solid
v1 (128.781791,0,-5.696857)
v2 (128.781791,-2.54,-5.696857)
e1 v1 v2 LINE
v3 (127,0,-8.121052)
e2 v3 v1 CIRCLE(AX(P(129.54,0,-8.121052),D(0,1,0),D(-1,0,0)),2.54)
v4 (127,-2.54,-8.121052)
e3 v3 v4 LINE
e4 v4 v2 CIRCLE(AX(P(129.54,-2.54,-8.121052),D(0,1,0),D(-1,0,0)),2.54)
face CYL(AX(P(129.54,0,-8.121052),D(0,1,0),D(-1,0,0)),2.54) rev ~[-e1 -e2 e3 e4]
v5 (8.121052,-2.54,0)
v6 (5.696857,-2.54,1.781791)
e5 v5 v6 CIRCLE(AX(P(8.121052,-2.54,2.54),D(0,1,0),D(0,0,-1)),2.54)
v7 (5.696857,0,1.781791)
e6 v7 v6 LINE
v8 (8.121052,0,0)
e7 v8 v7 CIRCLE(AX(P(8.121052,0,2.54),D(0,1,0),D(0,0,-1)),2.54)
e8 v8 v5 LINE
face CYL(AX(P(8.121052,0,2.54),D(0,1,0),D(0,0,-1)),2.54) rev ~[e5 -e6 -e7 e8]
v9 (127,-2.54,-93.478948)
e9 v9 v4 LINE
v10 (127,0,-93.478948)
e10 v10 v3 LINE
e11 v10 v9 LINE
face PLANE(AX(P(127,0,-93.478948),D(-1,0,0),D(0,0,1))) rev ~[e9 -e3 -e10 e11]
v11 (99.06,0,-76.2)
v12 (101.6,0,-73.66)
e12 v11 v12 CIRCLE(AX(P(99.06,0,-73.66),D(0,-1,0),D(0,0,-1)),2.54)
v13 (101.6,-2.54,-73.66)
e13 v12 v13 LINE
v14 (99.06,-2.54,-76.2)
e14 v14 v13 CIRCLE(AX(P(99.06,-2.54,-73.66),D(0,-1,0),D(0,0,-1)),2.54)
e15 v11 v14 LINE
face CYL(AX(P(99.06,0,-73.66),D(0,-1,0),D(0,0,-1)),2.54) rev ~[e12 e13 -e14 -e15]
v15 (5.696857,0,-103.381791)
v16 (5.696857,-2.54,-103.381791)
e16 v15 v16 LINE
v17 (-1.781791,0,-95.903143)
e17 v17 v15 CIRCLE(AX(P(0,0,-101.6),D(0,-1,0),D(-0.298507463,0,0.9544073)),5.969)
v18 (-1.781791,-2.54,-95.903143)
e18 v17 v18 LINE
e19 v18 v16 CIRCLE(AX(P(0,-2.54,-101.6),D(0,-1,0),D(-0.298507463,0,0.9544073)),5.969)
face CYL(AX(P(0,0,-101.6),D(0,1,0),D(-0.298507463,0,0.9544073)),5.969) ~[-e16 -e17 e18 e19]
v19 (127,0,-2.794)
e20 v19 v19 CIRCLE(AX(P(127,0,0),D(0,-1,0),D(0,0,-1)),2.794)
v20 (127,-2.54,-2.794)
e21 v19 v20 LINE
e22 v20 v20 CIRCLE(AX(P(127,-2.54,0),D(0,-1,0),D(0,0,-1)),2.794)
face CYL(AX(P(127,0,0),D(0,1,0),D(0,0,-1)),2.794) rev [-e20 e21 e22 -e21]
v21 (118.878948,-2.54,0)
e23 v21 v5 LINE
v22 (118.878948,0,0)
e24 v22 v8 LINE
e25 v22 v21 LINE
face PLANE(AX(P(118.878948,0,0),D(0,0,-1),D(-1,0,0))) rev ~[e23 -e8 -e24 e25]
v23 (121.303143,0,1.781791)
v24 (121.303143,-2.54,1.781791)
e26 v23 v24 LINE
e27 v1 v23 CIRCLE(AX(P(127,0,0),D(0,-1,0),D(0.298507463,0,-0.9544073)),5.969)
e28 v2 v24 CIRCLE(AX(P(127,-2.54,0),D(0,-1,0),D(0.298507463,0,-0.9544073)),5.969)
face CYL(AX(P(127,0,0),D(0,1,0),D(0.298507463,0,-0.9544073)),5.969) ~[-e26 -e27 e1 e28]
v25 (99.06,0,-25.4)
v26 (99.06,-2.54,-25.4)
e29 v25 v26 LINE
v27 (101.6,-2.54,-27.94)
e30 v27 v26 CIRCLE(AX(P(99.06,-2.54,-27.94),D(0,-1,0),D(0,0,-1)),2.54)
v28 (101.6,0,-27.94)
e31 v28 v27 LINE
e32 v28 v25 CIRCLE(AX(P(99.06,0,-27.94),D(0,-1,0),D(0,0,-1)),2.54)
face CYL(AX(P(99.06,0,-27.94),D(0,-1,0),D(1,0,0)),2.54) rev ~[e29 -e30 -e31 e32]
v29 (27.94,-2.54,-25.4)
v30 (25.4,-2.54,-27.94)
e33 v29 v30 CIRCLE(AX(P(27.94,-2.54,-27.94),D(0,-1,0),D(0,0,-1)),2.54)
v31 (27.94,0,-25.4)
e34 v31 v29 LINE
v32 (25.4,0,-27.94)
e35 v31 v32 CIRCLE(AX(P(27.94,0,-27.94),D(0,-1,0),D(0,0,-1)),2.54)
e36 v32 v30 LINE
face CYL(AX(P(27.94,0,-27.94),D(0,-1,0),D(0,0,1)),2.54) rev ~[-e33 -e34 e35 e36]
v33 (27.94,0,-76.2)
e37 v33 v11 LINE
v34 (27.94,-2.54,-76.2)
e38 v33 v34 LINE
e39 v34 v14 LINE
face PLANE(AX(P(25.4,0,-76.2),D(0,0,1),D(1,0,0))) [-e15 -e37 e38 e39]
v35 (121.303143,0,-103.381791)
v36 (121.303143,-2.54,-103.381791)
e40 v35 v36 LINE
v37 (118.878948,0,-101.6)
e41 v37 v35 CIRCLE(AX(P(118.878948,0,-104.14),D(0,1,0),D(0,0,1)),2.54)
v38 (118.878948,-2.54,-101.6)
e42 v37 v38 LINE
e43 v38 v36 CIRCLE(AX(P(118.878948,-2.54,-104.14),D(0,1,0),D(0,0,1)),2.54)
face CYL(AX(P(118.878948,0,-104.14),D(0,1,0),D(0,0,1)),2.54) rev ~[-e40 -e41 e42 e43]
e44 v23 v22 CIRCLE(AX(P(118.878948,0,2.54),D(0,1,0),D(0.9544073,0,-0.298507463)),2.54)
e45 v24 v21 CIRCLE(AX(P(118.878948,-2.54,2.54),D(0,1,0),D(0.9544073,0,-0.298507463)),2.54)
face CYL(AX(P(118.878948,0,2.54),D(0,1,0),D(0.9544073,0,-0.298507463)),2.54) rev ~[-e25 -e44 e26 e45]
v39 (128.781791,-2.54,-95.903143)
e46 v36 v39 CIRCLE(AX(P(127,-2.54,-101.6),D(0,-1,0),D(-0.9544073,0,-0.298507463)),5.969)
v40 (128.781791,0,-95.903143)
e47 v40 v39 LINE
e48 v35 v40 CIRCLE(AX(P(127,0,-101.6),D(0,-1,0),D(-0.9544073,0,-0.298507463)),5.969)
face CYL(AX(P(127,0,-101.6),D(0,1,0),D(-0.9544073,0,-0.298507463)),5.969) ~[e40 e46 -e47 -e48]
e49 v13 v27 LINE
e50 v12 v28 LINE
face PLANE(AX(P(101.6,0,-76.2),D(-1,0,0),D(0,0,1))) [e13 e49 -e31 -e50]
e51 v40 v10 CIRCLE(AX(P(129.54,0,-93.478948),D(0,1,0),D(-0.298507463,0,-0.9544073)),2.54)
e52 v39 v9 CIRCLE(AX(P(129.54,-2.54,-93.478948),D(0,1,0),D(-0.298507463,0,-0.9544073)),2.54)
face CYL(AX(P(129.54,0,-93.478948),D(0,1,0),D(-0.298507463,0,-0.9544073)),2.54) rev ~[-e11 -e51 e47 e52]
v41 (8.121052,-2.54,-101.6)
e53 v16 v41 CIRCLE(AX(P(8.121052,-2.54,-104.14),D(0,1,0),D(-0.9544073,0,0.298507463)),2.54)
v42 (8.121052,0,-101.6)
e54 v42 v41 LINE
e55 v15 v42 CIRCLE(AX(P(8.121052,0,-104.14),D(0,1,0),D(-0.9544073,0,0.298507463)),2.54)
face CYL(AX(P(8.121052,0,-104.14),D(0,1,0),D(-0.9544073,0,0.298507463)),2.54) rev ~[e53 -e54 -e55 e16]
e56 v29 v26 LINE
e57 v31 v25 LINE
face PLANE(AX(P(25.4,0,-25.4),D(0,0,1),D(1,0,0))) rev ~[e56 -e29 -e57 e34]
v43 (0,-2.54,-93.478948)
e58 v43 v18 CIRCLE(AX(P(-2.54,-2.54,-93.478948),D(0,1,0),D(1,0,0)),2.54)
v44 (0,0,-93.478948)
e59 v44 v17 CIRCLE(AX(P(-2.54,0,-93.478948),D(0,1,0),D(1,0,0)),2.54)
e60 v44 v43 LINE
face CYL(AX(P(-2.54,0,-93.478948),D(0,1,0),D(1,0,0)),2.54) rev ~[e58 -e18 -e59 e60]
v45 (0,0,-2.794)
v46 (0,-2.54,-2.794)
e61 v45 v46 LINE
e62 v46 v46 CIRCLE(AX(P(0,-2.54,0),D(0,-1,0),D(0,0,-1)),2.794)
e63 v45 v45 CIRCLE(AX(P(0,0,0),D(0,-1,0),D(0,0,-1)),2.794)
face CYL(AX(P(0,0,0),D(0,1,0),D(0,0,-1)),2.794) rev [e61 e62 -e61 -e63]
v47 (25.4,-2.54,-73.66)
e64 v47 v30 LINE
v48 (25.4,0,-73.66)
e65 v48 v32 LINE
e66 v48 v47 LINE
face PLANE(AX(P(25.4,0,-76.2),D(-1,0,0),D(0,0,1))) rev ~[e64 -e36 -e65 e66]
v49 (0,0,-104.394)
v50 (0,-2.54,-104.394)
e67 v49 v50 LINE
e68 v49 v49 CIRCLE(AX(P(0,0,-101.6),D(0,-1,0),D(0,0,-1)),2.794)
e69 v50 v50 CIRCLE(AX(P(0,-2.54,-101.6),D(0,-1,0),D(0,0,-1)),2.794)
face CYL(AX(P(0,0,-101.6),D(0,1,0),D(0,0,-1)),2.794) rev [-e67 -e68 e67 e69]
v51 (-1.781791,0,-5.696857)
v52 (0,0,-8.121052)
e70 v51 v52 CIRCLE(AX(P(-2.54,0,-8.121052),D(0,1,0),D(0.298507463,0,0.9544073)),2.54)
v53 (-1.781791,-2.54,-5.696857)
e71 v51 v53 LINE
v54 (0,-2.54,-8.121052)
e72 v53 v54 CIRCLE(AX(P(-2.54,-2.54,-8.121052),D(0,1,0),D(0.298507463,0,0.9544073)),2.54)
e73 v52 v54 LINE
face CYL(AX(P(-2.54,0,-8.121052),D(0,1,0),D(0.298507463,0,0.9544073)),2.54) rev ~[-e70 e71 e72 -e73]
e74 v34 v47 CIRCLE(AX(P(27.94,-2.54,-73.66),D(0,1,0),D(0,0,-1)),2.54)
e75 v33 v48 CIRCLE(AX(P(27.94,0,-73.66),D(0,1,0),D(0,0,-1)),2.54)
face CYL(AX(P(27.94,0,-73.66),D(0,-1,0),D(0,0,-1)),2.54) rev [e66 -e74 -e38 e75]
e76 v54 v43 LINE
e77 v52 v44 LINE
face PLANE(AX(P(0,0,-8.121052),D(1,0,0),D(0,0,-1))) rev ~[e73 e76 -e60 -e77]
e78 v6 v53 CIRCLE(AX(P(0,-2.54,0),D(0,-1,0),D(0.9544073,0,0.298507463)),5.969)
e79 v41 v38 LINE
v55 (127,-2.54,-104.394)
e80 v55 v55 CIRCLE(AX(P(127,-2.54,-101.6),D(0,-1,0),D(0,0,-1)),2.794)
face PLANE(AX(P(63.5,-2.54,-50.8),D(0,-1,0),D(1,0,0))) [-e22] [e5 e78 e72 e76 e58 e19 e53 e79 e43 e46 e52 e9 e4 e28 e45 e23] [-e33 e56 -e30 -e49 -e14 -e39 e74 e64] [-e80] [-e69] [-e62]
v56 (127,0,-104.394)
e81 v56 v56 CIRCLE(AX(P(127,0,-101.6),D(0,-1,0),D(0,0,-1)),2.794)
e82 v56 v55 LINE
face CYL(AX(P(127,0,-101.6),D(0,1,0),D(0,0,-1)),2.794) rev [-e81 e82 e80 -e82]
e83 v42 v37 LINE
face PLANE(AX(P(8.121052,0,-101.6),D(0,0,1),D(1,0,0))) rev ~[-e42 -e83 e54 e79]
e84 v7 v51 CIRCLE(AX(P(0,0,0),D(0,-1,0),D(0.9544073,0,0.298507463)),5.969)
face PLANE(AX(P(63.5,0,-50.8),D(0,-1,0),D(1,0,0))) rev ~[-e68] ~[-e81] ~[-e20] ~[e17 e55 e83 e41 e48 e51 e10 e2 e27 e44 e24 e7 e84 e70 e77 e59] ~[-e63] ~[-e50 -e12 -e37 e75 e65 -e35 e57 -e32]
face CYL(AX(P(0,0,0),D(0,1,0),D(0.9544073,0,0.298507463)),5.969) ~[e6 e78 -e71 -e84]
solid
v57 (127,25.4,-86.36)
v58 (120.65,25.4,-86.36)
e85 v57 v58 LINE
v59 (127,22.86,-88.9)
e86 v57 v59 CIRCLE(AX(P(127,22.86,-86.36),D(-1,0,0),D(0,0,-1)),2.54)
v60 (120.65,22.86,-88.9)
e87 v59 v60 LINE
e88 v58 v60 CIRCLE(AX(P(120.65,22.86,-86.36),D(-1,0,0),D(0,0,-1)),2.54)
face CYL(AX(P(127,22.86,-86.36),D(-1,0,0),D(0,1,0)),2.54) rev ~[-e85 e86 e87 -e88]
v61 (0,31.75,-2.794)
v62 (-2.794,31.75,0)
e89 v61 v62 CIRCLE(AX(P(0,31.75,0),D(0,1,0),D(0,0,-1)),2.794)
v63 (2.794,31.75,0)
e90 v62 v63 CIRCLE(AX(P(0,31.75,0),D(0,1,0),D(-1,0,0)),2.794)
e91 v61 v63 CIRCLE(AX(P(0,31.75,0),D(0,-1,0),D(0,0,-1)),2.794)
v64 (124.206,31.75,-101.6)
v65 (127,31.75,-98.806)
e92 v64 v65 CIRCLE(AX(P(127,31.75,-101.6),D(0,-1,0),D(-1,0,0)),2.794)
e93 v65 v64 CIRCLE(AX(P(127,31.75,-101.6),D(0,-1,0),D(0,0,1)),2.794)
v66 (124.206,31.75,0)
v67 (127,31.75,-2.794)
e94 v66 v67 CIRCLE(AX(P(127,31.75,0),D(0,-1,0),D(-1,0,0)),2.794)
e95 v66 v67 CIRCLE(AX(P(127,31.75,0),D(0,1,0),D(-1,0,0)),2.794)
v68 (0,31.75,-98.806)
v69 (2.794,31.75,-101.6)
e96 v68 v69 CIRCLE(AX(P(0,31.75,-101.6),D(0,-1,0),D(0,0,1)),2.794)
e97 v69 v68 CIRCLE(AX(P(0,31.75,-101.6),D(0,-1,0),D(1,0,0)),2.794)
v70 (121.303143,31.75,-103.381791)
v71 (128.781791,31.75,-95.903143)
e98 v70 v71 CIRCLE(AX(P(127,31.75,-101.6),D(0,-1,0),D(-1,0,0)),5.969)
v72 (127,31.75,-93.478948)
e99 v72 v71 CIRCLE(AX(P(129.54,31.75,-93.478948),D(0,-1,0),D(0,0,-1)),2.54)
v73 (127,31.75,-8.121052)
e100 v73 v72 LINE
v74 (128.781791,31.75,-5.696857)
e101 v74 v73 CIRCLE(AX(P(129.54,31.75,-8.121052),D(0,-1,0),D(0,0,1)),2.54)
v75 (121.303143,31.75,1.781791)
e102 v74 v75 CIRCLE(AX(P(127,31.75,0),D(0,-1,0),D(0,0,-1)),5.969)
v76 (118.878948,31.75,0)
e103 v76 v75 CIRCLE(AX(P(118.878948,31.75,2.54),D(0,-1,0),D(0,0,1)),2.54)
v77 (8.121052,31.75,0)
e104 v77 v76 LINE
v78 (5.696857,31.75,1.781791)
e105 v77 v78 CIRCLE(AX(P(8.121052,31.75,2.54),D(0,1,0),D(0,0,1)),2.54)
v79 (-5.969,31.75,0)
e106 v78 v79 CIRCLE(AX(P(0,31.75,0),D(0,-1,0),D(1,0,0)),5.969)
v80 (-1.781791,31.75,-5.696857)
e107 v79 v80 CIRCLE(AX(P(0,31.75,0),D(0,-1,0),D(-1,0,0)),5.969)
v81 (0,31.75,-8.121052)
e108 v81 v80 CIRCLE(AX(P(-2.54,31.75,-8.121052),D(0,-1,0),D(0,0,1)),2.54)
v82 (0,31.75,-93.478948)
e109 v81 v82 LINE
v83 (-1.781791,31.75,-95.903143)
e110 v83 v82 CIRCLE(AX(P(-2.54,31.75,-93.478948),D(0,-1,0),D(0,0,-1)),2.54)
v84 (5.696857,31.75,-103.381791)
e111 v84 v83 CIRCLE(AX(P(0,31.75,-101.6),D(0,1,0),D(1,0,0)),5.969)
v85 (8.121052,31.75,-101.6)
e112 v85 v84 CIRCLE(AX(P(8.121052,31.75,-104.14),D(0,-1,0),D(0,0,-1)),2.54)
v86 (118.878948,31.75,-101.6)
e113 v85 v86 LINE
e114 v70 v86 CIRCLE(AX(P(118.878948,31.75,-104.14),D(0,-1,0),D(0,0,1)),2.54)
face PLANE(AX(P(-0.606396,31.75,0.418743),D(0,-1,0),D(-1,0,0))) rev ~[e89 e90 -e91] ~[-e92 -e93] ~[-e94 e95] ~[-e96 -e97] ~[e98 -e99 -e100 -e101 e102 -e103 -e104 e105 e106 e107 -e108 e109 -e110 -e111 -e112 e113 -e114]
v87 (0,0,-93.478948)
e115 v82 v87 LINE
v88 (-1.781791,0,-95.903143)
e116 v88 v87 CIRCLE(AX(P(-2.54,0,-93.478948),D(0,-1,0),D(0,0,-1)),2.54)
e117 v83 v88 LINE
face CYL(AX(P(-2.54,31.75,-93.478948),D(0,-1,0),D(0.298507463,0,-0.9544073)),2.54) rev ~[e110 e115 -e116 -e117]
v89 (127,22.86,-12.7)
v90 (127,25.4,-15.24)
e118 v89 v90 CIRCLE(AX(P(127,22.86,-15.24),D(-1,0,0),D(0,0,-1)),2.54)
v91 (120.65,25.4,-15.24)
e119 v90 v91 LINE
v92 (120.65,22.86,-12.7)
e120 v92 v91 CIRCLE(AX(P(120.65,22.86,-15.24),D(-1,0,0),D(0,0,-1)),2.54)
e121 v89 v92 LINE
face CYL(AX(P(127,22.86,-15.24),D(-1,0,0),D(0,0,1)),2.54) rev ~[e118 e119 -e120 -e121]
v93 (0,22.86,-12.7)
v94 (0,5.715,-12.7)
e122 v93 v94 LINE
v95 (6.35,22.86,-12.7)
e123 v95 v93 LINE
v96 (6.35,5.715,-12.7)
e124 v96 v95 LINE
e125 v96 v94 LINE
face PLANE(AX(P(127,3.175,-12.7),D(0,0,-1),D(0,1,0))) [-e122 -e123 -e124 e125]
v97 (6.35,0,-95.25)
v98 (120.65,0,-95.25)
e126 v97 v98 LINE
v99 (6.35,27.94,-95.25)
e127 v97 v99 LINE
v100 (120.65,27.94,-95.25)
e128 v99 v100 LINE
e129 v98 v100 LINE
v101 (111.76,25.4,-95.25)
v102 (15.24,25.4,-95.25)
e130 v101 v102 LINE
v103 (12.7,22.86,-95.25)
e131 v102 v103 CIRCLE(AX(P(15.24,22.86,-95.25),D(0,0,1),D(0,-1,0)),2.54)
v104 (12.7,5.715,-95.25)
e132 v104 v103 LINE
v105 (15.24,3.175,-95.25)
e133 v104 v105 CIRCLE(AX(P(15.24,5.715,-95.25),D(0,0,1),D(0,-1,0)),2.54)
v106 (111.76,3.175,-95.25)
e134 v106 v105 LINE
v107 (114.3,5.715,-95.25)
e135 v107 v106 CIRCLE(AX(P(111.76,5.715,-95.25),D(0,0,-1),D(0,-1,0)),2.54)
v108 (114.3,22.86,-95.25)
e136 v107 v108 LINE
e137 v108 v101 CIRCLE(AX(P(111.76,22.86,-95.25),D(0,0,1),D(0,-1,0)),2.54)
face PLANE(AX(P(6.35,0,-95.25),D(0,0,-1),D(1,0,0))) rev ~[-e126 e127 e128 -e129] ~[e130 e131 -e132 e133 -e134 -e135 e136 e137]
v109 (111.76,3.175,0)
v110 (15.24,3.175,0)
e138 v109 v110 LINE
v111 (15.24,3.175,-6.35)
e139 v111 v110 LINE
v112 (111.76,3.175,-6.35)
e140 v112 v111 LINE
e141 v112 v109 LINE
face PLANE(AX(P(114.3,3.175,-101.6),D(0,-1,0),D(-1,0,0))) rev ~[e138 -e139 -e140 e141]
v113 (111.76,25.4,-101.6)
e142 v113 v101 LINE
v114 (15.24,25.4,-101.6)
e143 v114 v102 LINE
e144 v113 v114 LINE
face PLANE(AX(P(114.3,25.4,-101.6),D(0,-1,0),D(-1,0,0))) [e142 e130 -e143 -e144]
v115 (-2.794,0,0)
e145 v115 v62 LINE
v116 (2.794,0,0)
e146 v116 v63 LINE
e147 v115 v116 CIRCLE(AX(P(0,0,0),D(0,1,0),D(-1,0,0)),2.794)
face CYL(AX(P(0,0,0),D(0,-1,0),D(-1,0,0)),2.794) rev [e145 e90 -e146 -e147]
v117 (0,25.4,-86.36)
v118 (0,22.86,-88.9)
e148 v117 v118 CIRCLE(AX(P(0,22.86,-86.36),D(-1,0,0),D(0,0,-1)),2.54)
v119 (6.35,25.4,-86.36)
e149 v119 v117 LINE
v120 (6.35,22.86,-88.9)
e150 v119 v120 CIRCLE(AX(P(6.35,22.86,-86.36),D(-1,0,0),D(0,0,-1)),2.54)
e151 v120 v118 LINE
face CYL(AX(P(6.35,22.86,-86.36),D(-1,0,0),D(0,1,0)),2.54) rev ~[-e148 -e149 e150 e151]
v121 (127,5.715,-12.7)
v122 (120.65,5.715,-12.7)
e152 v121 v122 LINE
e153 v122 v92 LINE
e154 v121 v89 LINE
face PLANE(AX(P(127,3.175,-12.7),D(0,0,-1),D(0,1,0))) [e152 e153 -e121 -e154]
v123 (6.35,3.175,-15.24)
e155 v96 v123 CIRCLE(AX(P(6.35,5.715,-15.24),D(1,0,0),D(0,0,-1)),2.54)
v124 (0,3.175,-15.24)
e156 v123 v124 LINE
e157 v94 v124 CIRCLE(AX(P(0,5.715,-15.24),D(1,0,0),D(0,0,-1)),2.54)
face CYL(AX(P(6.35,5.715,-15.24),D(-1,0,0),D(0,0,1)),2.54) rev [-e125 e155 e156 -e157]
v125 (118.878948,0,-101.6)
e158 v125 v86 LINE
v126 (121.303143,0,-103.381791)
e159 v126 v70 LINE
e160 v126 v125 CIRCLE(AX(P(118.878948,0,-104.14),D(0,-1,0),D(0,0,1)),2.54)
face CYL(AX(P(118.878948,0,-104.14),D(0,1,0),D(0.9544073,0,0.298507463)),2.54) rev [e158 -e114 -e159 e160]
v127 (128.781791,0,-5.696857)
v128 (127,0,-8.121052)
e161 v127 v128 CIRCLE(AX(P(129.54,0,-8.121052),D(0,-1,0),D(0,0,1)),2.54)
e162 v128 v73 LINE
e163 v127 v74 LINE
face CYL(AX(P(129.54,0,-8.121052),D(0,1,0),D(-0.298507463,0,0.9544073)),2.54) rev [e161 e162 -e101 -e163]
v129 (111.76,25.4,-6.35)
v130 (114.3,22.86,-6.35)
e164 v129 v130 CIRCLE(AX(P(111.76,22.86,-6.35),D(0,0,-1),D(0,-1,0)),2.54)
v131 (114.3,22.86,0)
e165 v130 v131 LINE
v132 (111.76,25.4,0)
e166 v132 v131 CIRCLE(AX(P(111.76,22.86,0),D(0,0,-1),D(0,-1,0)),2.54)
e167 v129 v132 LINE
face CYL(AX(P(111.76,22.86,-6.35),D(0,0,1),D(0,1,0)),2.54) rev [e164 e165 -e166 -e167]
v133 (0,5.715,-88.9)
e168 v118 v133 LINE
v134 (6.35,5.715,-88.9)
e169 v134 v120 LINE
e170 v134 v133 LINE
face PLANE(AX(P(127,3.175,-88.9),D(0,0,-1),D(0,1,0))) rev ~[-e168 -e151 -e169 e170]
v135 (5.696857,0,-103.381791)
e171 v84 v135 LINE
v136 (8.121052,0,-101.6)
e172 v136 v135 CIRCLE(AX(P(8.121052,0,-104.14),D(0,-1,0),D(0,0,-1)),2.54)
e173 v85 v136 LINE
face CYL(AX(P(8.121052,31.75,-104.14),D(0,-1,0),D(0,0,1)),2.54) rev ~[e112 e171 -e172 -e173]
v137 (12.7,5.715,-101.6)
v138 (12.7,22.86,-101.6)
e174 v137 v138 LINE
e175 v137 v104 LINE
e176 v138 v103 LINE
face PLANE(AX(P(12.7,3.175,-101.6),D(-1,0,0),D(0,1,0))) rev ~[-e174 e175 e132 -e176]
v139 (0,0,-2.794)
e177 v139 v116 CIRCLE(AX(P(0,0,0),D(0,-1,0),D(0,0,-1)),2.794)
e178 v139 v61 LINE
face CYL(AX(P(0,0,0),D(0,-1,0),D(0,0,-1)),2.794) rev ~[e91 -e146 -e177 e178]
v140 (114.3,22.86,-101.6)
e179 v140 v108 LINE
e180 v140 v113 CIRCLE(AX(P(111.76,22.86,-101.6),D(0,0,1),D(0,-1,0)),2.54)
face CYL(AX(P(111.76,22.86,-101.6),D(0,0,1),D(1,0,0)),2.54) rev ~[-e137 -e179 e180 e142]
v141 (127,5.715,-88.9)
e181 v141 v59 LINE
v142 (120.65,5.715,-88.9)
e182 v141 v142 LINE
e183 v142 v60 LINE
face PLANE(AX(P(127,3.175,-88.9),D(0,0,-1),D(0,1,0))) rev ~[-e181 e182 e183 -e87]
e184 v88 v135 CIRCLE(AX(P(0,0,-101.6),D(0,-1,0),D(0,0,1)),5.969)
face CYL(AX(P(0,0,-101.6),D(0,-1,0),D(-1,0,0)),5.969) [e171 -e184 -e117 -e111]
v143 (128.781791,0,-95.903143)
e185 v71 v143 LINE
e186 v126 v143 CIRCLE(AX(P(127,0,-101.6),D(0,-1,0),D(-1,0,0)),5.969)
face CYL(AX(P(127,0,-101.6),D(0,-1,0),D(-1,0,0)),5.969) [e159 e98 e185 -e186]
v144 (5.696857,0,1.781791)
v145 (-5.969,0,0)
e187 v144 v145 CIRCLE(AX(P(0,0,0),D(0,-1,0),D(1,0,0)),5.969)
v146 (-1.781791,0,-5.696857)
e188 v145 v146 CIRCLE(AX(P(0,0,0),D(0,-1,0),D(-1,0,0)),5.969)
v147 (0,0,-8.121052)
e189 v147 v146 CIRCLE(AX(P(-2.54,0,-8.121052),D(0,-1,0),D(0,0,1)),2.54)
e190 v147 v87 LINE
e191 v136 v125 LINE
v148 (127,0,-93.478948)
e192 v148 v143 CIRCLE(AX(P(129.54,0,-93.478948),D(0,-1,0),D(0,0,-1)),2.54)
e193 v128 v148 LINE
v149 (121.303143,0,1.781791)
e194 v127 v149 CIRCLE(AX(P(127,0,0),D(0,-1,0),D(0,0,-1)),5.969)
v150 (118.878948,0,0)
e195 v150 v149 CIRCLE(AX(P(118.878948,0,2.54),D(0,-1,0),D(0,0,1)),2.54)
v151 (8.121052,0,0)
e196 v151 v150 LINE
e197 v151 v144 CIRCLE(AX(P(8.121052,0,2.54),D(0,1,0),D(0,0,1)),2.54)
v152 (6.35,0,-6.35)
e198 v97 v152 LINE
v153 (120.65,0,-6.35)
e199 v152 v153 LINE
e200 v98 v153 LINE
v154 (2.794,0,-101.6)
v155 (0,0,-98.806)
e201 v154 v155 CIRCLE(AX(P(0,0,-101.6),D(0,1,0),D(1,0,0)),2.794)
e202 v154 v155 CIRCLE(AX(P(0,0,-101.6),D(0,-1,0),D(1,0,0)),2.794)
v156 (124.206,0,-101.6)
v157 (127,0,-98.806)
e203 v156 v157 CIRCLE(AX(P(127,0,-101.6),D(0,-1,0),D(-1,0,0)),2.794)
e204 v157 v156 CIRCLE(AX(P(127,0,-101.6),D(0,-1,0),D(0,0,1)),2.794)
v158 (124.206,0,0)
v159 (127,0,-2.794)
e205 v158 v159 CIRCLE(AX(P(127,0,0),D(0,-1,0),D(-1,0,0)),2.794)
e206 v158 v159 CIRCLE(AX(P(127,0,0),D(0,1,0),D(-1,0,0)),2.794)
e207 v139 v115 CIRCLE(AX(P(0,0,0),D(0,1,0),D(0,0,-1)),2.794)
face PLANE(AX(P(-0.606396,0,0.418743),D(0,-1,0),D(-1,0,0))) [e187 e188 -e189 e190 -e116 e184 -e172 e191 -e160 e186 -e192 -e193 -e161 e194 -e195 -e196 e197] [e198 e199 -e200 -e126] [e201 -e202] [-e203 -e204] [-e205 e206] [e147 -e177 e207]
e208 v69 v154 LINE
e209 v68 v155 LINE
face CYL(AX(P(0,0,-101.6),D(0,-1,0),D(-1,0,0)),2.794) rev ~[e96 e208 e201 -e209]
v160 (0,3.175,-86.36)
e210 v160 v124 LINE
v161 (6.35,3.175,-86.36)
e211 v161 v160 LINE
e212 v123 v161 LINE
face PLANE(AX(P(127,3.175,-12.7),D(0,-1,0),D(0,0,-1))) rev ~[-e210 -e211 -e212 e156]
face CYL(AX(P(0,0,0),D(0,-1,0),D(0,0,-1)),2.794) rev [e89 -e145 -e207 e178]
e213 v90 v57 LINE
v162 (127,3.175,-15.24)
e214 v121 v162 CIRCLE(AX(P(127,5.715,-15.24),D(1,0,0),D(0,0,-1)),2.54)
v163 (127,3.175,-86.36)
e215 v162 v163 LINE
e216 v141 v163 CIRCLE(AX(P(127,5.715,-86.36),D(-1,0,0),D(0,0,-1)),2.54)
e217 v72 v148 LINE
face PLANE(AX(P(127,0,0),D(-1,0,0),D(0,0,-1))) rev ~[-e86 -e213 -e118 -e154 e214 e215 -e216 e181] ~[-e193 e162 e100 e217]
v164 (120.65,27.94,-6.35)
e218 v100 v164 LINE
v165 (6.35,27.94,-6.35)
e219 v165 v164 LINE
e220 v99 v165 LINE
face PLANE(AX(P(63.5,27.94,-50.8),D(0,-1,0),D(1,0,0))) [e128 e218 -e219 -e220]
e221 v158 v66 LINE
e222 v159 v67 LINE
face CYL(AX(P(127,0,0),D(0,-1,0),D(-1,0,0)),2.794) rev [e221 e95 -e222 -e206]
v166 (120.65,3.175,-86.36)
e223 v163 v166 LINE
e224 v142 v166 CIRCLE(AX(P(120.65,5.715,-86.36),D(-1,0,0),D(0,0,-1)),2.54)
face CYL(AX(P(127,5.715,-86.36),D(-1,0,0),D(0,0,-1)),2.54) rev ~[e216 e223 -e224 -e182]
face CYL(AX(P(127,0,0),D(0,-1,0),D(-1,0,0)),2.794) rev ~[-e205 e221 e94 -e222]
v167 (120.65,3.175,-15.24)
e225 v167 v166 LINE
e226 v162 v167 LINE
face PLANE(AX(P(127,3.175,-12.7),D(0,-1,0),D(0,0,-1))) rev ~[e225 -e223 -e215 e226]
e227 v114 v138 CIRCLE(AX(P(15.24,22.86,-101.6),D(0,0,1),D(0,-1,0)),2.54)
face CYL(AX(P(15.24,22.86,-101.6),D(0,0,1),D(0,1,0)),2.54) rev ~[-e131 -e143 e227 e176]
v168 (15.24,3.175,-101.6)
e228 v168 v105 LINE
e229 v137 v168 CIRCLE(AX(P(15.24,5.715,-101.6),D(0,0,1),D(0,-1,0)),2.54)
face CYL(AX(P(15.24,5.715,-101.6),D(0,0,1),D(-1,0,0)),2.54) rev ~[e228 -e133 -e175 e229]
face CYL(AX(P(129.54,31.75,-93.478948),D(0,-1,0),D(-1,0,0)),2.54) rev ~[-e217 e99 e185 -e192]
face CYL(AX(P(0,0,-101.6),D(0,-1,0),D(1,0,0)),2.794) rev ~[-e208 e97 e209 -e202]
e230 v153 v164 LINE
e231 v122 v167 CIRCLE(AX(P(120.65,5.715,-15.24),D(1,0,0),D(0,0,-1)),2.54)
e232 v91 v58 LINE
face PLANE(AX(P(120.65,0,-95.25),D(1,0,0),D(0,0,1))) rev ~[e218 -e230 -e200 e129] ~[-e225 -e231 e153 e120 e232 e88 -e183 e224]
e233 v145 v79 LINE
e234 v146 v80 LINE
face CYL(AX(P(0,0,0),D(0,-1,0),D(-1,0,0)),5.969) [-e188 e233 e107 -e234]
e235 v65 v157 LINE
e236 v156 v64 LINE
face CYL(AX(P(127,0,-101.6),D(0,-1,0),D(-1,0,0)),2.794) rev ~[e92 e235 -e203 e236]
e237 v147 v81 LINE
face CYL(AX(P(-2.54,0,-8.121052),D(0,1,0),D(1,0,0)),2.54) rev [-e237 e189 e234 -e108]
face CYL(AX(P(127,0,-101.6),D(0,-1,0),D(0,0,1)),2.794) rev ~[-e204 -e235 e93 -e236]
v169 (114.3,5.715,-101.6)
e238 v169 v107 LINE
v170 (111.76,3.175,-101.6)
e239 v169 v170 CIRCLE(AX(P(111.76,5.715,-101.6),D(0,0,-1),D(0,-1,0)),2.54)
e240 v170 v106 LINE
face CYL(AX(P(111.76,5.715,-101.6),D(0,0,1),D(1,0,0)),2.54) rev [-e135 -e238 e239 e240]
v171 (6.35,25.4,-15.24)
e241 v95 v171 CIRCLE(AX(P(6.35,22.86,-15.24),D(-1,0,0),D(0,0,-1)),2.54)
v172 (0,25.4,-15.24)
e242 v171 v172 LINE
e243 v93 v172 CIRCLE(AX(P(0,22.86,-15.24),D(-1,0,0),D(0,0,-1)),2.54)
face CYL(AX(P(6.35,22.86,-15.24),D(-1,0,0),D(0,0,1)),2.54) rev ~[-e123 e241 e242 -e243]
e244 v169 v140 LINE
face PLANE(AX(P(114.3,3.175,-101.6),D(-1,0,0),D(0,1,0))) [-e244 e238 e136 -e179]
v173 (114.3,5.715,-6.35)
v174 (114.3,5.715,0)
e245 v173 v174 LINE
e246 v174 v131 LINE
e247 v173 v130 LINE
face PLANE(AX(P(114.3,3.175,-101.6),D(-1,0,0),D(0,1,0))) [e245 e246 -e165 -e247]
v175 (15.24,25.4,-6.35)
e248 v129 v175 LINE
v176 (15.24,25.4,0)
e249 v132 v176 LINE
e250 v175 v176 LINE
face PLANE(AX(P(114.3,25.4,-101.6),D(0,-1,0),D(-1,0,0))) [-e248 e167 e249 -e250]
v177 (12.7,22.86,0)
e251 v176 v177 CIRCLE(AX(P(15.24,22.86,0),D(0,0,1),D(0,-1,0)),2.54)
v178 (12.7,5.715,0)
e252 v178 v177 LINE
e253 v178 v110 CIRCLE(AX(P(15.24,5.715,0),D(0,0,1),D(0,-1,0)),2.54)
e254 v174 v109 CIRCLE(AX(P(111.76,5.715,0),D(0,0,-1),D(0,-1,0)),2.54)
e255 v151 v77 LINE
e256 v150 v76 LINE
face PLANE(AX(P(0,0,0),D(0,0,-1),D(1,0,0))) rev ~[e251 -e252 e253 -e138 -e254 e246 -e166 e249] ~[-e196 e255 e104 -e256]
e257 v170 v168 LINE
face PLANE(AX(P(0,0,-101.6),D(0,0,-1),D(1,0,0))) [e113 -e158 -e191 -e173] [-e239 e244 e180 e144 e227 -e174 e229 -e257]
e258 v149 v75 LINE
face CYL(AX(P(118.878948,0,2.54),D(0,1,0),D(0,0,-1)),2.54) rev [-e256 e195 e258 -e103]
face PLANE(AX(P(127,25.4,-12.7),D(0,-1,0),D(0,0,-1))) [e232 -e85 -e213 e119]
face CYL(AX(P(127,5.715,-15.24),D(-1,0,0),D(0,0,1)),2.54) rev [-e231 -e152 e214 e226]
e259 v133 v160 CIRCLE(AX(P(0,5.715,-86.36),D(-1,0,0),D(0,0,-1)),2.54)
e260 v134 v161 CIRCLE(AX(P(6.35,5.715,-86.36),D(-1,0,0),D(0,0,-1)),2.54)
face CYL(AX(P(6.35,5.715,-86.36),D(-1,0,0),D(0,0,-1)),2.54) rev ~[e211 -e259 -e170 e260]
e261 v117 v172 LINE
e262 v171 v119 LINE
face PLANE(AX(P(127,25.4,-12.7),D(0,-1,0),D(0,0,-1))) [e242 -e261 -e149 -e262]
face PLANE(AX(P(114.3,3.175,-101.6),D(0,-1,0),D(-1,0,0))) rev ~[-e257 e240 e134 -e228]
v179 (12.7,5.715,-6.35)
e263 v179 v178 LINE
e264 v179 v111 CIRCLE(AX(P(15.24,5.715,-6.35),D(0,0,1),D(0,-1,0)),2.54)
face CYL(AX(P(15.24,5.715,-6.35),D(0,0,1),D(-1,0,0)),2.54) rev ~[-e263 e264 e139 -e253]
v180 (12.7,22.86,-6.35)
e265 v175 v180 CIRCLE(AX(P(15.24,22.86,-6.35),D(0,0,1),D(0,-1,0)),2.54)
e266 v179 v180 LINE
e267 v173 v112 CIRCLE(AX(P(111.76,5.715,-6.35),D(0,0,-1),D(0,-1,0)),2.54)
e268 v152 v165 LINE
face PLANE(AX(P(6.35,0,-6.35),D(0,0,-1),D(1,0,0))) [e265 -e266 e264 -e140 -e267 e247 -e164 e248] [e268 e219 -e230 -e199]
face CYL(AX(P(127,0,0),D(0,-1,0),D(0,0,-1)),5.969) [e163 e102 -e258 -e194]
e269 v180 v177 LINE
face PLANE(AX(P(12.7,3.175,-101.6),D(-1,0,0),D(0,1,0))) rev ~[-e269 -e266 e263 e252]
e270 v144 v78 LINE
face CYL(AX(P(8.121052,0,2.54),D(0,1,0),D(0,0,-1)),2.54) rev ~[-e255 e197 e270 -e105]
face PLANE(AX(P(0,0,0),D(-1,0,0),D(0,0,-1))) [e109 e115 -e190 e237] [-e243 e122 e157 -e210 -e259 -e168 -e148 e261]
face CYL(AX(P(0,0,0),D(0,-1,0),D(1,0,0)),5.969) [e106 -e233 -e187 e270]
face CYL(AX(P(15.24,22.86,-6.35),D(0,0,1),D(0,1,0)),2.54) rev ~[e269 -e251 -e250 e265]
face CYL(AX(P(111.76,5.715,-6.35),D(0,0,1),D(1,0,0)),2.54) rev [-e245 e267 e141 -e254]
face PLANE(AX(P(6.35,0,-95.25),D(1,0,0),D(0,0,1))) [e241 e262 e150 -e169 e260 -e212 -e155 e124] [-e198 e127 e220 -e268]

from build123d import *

# Parameters (mm, degrees)
SKETCH1_W           = 127
SKETCH1_H           = 101.6
BOSS_EXTRUDE1_DEPTH = 31.75
SKETCH3_W           = 114.3
SKETCH3_H           = 88.9
CUT_EXTRUDE1_DEPTH  = 27.94
SKETCH4_W           = 101.6
SKETCH4_H           = 22.225
CUT_EXTRUDE2_DEPTH  = 166.709452054
SKETCH5_W           = 76.2
SKETCH5_H           = 22.225
CUT_EXTRUDE3_DEPTH  = 166.709452054
SKETCH6_R           = 5.969
SKETCH6_R_2         = 2.794
BOSS_EXTRUDE2_DEPTH = 31.75
CUT_EXTRUDE4_DEPTH  = 174.953750238
FILLET1_R           = 2.54
SKETCH7_R           = 2.794
SKETCH7_W           = 76.2
SKETCH7_H           = 50.8
BOSS_EXTRUDE3_DEPTH = 2.54
FILLET2_R           = 2.54


with BuildPart() as part:
    # Sketch1 → Boss-Extrude1 (new body)
    with BuildSketch(Plane(origin=(0, 0, 0), x_dir=(1, 0, 0), z_dir=(0, 1, 0))):
        with Locations((63.5, 50.8)):
            Rectangle(SKETCH1_W, SKETCH1_H)
    extrude(amount=BOSS_EXTRUDE1_DEPTH)

    # Sketch3 → Cut-Extrude1 (cut)
    with BuildSketch(Plane.XZ):
        with Locations((63.5, -50.8)):
            Rectangle(SKETCH3_W, SKETCH3_H)
    extrude(amount=-CUT_EXTRUDE1_DEPTH, mode=Mode.SUBTRACT)

    # Sketch4 → Cut-Extrude2 (cut, through all)
    with BuildSketch(Plane(origin=(0, 0, -101.6), x_dir=(-1, 0, 0), z_dir=(0, 0, -1))):
        with Locations((-63.5, 14.2875)):
            Rectangle(SKETCH4_W, SKETCH4_H)
    extrude(amount=-CUT_EXTRUDE2_DEPTH, mode=Mode.SUBTRACT)

    # Sketch5 → Cut-Extrude3 (cut, through all)
    with BuildSketch(Plane(origin=(127, 0, 0), x_dir=(0, 0, -1), z_dir=(1, 0, 0))):
        with Locations((50.8, 14.2875)):
            Rectangle(SKETCH5_W, SKETCH5_H)
    extrude(amount=-CUT_EXTRUDE3_DEPTH, mode=Mode.SUBTRACT)

    # Sketch6 → Boss-Extrude2 (add, through all)
    # profile 1 of 6: a face of its own
    with BuildSketch(Plane(origin=(0, 0, 0), x_dir=(-1, 0, 0), z_dir=(0, -1, 0))):
        with BuildLine():
            ThreePointArc((0, 2.794), (1.975656347, 1.975656347), (2.794, 0))
            ThreePointArc((2.794, 0), (0, -2.794), (-2.794, 0))
            Line((-2.794, 0), (-5.969, 0))
            ThreePointArc((-5.969, 0), (0, -5.969), (5.969, 0))
            ThreePointArc((5.969, 0), (4.220720377, 4.220720377), (0, 5.969))
            Line((0, 5.969), (0, 2.794))
        make_face()
    # profile 2 of 6: a face of its own
    with BuildSketch(Plane(origin=(0, 0, 0), x_dir=(-1, 0, 0), z_dir=(0, -1, 0))):
        with BuildLine():
            ThreePointArc((-2.794, 0), (-1.975656347, 1.975656347), (0, 2.794))
            Line((0, 2.794), (0, 5.969))
            ThreePointArc((0, 5.969), (-4.220720377, 4.220720377), (-5.969, 0))
            Line((-5.969, 0), (-2.794, 0))
        make_face()
    # profile 3 of 6: a face of its own
    with BuildSketch(Plane(origin=(0, 0, 0), x_dir=(-1, 0, 0), z_dir=(0, -1, 0))):
        with Locations((0, 101.6)):
            Circle(SKETCH6_R)
        with Locations((0, 101.6)):
            Circle(SKETCH6_R_2, mode=Mode.SUBTRACT)
    # profile 4 of 6: a face of its own
    with BuildSketch(Plane(origin=(0, 0, 0), x_dir=(-1, 0, 0), z_dir=(0, -1, 0))):
        with Locations((-127, 101.6)):
            Circle(SKETCH6_R)
        with Locations((-127, 101.6)):
            Circle(SKETCH6_R_2, mode=Mode.SUBTRACT)
    # profile 5 of 6: a face of its own
    with BuildSketch(Plane(origin=(0, 0, 0), x_dir=(-1, 0, 0), z_dir=(0, -1, 0))):
        with BuildLine():
            ThreePointArc((-127, 5.969), (-131.220720377, -4.220720377), (-121.031, 0))
            Line((-121.031, 0), (-124.206, 0))
            ThreePointArc((-124.206, 0), (-128.975656347, -1.975656347), (-127, 2.794))
            Line((-127, 2.794), (-127, 5.969))
        make_face()
    # profile 6 of 6: a face of its own
    with BuildSketch(Plane(origin=(0, 0, 0), x_dir=(-1, 0, 0), z_dir=(0, -1, 0))):
        with BuildLine():
            Line((-124.206, 0), (-121.031, 0))
            ThreePointArc((-121.031, 0), (-122.779279623, 4.220720377), (-127, 5.969))
            Line((-127, 5.969), (-127, 2.794))
            ThreePointArc((-127, 2.794), (-125.024343653, 1.975656347), (-124.206, 0))
        make_face()
    extrude(amount=-BOSS_EXTRUDE2_DEPTH)

    # Sketch6<4> → Cut-Extrude4 (cut, through all)
    with BuildSketch(Plane(origin=(0, 0, 0), x_dir=(-1, 0, 0), z_dir=(0, -1, 0))):
        with BuildLine():
            Line((0, 101.6), (0, 98.806))
            ThreePointArc((0, 98.806), (1.975656347, 99.624343653), (2.794, 101.6))
            ThreePointArc((2.794, 101.6), (0, 104.394), (-2.794, 101.6))
            Line((-2.794, 101.6), (0, 101.6))
        make_face()
        with BuildLine():
            ThreePointArc((-2.794, 101.6), (-1.975656347, 99.624343653), (0, 98.806))
            Line((0, 98.806), (0, 101.6))
            Line((0, 101.6), (-2.794, 101.6))
        make_face()
        with BuildLine():
            Line((0, 101.6), (0, 98.806))
            ThreePointArc((0, 98.806), (1.975656347, 99.624343653), (2.794, 101.6))
            ThreePointArc((2.794, 101.6), (0, 104.394), (-2.794, 101.6))
            Line((-2.794, 101.6), (0, 101.6))
        make_face()
        with BuildLine():
            ThreePointArc((-2.794, 101.6), (-1.975656347, 99.624343653), (0, 98.806))
            Line((0, 98.806), (0, 101.6))
            Line((0, 101.6), (-2.794, 101.6))
        make_face()
        with BuildLine():
            Line((-127, 101.6), (-124.206, 101.6))
            ThreePointArc((-124.206, 101.6), (-128.975656347, 103.575656347), (-127, 98.806))
            Line((-127, 98.806), (-127, 101.6))
        make_face()
        with BuildLine():
            ThreePointArc((-127, 98.806), (-125.024343653, 99.624343653), (-124.206, 101.6))
            Line((-124.206, 101.6), (-127, 101.6))
            Line((-127, 101.6), (-127, 98.806))
        make_face()
        with BuildLine():
            Line((-127, 101.6), (-124.206, 101.6))
            ThreePointArc((-124.206, 101.6), (-128.975656347, 103.575656347), (-127, 98.806))
            Line((-127, 98.806), (-127, 101.6))
        make_face()
        with BuildLine():
            ThreePointArc((-127, 98.806), (-125.024343653, 99.624343653), (-124.206, 101.6))
            Line((-124.206, 101.6), (-127, 101.6))
            Line((-127, 101.6), (-127, 98.806))
        make_face()
        with BuildLine():
            Line((-127, 0), (-124.206, 0))
            ThreePointArc((-124.206, 0), (-125.024343653, 1.975656347), (-127, 2.794))
            Line((-127, 2.794), (-127, 0))
        make_face()
        with BuildLine():
            ThreePointArc((-127, 2.794), (-128.975656347, -1.975656347), (-124.206, 0))
            Line((-124.206, 0), (-127, 0))
            Line((-127, 0), (-127, 2.794))
        make_face()
        with BuildLine():
            Line((-127, 0), (-124.206, 0))
            ThreePointArc((-124.206, 0), (-125.024343653, 1.975656347), (-127, 2.794))
            Line((-127, 2.794), (-127, 0))
        make_face()
        with BuildLine():
            ThreePointArc((-127, 2.794), (-128.975656347, -1.975656347), (-124.206, 0))
            Line((-124.206, 0), (-127, 0))
            Line((-127, 0), (-127, 2.794))
        make_face()
        with BuildLine():
            ThreePointArc((-2.794, 0), (0, -2.794), (2.794, 0))
            ThreePointArc((2.794, 0), (1.975656347, 1.975656347), (0, 2.794))
            Line((0, 2.794), (0, 0))
            Line((0, 0), (-2.794, 0))
        make_face()
        with BuildLine():
            Line((0, 0), (0, 2.794))
            ThreePointArc((0, 2.794), (-1.975656347, 1.975656347), (-2.794, 0))
            Line((-2.794, 0), (0, 0))
        make_face()
        with BuildLine():
            ThreePointArc((-2.794, 0), (0, -2.794), (2.794, 0))
            ThreePointArc((2.794, 0), (1.975656347, 1.975656347), (0, 2.794))
            Line((0, 2.794), (0, 0))
            Line((0, 0), (-2.794, 0))
        make_face()
        with BuildLine():
            Line((0, 0), (0, 2.794))
            ThreePointArc((0, 2.794), (-1.975656347, 1.975656347), (-2.794, 0))
            Line((-2.794, 0), (0, 0))
        make_face()
    extrude(amount=-CUT_EXTRUDE4_DEPTH, mode=Mode.SUBTRACT)

    # Fillet1
    fillet1_edges = [part.edges().sort_by_distance(p)[0] for p in [
        (0, 15.875, -95.631),
        (5.969, 15.875, -101.6),
        (121.031, 15.875, -101.6),
        (127, 15.875, -95.631),
        (127, 15.875, -5.969),
        (121.031, 15.875, 0),
        (114.3, 3.175, -3.175),
        (114.3, 3.175, -98.425),
        (114.3, 25.4, -3.175),
        (114.3, 25.4, -98.425),
        (12.7, 25.4, -3.175),
        (12.7, 25.4, -98.425),
        (12.7, 3.175, -3.175),
        (12.7, 3.175, -98.425),
        (3.175, 3.175, -88.9),
        (123.825, 3.175, -88.9),
        (3.175, 3.175, -12.7),
        (123.825, 3.175, -12.7),
        (3.175, 25.4, -12.7),
        (123.825, 25.4, -12.7),
        (3.175, 25.4, -88.9),
        (123.825, 25.4, -88.9),
        (5.969, 15.875, 0),
        (0, 15.875, -5.969),
    ]]
    fillet(fillet1_edges, radius=FILLET1_R)


with BuildPart() as body_2:
    # Sketch7 → Boss-Extrude3 (new body)
    with BuildSketch(Plane.XZ):
        with BuildLine():
            Line((127, -93.478948282), (127, -8.121051718))
            ThreePointArc((127, -8.121051718), (127.493362423, -6.616766297), (128.781791045, -5.696857175))
            ThreePointArc((128.781791045, -5.696857175), (131.220720377, 4.220720377), (121.303142825, 1.781791045))
            ThreePointArc((121.303142825, 1.781791045), (120.383233703, 0.493362423), (118.878948282, 0))
            Line((118.878948282, 0), (8.121051718, 0))
            ThreePointArc((8.121051718, 0), (6.616766297, 0.493362423), (5.696857175, 1.781791045))
            ThreePointArc((5.696857175, 1.781791045), (-4.220720377, 4.220720377), (-1.781791045, -5.696857175))
            ThreePointArc((-1.781791045, -5.696857175), (-0.493362423, -6.616766297), (0, -8.121051718))
            Line((0, -8.121051718), (0, -93.478948282))
            ThreePointArc((0, -93.478948282), (-0.493362423, -94.983233703), (-1.781791045, -95.903142825))
            ThreePointArc((-1.781791045, -95.903142825), (-4.220720377, -105.820720377), (5.696857175, -103.381791045))
            ThreePointArc((5.696857175, -103.381791045), (6.616766297, -102.093362423), (8.121051718, -101.6))
            Line((8.121051718, -101.6), (118.878948282, -101.6))
            ThreePointArc((118.878948282, -101.6), (120.383233703, -102.093362423), (121.303142825, -103.381791045))
            ThreePointArc((121.303142825, -103.381791045), (131.220720377, -105.820720377), (128.781791045, -95.903142825))
            ThreePointArc((128.781791045, -95.903142825), (127.493362423, -94.983233703), (127, -93.478948282))
        make_face()
        with Locations(Location((127, 0, 0), (0, 0, 270))):
            Circle(SKETCH7_R, mode=Mode.SUBTRACT)
        with Locations(Location((127, -101.6, 0), (0, 0, 270))):
            Circle(SKETCH7_R, mode=Mode.SUBTRACT)
        with Locations(Location((0, 0, 0), (0, 0, 270))):
            Circle(SKETCH7_R, mode=Mode.SUBTRACT)
        with Locations(Location((0, -101.6, 0), (0, 0, 270))):
            Circle(SKETCH7_R, mode=Mode.SUBTRACT)
        with Locations((63.5, -50.8)):
            Rectangle(SKETCH7_W, SKETCH7_H, mode=Mode.SUBTRACT)
    extrude(amount=BOSS_EXTRUDE3_DEPTH)

    # Fillet2
    fillet2_edges = [body_2.edges().sort_by_distance(p)[0] for p in [
        (101.6, -1.27, -25.4),
        (25.4, -1.27, -25.4),
        (25.4, -1.27, -76.2),
        (101.6, -1.27, -76.2),
    ]]
    fillet(fillet2_edges, radius=FILLET2_R)


solid = Compound([part.part, body_2.part])
